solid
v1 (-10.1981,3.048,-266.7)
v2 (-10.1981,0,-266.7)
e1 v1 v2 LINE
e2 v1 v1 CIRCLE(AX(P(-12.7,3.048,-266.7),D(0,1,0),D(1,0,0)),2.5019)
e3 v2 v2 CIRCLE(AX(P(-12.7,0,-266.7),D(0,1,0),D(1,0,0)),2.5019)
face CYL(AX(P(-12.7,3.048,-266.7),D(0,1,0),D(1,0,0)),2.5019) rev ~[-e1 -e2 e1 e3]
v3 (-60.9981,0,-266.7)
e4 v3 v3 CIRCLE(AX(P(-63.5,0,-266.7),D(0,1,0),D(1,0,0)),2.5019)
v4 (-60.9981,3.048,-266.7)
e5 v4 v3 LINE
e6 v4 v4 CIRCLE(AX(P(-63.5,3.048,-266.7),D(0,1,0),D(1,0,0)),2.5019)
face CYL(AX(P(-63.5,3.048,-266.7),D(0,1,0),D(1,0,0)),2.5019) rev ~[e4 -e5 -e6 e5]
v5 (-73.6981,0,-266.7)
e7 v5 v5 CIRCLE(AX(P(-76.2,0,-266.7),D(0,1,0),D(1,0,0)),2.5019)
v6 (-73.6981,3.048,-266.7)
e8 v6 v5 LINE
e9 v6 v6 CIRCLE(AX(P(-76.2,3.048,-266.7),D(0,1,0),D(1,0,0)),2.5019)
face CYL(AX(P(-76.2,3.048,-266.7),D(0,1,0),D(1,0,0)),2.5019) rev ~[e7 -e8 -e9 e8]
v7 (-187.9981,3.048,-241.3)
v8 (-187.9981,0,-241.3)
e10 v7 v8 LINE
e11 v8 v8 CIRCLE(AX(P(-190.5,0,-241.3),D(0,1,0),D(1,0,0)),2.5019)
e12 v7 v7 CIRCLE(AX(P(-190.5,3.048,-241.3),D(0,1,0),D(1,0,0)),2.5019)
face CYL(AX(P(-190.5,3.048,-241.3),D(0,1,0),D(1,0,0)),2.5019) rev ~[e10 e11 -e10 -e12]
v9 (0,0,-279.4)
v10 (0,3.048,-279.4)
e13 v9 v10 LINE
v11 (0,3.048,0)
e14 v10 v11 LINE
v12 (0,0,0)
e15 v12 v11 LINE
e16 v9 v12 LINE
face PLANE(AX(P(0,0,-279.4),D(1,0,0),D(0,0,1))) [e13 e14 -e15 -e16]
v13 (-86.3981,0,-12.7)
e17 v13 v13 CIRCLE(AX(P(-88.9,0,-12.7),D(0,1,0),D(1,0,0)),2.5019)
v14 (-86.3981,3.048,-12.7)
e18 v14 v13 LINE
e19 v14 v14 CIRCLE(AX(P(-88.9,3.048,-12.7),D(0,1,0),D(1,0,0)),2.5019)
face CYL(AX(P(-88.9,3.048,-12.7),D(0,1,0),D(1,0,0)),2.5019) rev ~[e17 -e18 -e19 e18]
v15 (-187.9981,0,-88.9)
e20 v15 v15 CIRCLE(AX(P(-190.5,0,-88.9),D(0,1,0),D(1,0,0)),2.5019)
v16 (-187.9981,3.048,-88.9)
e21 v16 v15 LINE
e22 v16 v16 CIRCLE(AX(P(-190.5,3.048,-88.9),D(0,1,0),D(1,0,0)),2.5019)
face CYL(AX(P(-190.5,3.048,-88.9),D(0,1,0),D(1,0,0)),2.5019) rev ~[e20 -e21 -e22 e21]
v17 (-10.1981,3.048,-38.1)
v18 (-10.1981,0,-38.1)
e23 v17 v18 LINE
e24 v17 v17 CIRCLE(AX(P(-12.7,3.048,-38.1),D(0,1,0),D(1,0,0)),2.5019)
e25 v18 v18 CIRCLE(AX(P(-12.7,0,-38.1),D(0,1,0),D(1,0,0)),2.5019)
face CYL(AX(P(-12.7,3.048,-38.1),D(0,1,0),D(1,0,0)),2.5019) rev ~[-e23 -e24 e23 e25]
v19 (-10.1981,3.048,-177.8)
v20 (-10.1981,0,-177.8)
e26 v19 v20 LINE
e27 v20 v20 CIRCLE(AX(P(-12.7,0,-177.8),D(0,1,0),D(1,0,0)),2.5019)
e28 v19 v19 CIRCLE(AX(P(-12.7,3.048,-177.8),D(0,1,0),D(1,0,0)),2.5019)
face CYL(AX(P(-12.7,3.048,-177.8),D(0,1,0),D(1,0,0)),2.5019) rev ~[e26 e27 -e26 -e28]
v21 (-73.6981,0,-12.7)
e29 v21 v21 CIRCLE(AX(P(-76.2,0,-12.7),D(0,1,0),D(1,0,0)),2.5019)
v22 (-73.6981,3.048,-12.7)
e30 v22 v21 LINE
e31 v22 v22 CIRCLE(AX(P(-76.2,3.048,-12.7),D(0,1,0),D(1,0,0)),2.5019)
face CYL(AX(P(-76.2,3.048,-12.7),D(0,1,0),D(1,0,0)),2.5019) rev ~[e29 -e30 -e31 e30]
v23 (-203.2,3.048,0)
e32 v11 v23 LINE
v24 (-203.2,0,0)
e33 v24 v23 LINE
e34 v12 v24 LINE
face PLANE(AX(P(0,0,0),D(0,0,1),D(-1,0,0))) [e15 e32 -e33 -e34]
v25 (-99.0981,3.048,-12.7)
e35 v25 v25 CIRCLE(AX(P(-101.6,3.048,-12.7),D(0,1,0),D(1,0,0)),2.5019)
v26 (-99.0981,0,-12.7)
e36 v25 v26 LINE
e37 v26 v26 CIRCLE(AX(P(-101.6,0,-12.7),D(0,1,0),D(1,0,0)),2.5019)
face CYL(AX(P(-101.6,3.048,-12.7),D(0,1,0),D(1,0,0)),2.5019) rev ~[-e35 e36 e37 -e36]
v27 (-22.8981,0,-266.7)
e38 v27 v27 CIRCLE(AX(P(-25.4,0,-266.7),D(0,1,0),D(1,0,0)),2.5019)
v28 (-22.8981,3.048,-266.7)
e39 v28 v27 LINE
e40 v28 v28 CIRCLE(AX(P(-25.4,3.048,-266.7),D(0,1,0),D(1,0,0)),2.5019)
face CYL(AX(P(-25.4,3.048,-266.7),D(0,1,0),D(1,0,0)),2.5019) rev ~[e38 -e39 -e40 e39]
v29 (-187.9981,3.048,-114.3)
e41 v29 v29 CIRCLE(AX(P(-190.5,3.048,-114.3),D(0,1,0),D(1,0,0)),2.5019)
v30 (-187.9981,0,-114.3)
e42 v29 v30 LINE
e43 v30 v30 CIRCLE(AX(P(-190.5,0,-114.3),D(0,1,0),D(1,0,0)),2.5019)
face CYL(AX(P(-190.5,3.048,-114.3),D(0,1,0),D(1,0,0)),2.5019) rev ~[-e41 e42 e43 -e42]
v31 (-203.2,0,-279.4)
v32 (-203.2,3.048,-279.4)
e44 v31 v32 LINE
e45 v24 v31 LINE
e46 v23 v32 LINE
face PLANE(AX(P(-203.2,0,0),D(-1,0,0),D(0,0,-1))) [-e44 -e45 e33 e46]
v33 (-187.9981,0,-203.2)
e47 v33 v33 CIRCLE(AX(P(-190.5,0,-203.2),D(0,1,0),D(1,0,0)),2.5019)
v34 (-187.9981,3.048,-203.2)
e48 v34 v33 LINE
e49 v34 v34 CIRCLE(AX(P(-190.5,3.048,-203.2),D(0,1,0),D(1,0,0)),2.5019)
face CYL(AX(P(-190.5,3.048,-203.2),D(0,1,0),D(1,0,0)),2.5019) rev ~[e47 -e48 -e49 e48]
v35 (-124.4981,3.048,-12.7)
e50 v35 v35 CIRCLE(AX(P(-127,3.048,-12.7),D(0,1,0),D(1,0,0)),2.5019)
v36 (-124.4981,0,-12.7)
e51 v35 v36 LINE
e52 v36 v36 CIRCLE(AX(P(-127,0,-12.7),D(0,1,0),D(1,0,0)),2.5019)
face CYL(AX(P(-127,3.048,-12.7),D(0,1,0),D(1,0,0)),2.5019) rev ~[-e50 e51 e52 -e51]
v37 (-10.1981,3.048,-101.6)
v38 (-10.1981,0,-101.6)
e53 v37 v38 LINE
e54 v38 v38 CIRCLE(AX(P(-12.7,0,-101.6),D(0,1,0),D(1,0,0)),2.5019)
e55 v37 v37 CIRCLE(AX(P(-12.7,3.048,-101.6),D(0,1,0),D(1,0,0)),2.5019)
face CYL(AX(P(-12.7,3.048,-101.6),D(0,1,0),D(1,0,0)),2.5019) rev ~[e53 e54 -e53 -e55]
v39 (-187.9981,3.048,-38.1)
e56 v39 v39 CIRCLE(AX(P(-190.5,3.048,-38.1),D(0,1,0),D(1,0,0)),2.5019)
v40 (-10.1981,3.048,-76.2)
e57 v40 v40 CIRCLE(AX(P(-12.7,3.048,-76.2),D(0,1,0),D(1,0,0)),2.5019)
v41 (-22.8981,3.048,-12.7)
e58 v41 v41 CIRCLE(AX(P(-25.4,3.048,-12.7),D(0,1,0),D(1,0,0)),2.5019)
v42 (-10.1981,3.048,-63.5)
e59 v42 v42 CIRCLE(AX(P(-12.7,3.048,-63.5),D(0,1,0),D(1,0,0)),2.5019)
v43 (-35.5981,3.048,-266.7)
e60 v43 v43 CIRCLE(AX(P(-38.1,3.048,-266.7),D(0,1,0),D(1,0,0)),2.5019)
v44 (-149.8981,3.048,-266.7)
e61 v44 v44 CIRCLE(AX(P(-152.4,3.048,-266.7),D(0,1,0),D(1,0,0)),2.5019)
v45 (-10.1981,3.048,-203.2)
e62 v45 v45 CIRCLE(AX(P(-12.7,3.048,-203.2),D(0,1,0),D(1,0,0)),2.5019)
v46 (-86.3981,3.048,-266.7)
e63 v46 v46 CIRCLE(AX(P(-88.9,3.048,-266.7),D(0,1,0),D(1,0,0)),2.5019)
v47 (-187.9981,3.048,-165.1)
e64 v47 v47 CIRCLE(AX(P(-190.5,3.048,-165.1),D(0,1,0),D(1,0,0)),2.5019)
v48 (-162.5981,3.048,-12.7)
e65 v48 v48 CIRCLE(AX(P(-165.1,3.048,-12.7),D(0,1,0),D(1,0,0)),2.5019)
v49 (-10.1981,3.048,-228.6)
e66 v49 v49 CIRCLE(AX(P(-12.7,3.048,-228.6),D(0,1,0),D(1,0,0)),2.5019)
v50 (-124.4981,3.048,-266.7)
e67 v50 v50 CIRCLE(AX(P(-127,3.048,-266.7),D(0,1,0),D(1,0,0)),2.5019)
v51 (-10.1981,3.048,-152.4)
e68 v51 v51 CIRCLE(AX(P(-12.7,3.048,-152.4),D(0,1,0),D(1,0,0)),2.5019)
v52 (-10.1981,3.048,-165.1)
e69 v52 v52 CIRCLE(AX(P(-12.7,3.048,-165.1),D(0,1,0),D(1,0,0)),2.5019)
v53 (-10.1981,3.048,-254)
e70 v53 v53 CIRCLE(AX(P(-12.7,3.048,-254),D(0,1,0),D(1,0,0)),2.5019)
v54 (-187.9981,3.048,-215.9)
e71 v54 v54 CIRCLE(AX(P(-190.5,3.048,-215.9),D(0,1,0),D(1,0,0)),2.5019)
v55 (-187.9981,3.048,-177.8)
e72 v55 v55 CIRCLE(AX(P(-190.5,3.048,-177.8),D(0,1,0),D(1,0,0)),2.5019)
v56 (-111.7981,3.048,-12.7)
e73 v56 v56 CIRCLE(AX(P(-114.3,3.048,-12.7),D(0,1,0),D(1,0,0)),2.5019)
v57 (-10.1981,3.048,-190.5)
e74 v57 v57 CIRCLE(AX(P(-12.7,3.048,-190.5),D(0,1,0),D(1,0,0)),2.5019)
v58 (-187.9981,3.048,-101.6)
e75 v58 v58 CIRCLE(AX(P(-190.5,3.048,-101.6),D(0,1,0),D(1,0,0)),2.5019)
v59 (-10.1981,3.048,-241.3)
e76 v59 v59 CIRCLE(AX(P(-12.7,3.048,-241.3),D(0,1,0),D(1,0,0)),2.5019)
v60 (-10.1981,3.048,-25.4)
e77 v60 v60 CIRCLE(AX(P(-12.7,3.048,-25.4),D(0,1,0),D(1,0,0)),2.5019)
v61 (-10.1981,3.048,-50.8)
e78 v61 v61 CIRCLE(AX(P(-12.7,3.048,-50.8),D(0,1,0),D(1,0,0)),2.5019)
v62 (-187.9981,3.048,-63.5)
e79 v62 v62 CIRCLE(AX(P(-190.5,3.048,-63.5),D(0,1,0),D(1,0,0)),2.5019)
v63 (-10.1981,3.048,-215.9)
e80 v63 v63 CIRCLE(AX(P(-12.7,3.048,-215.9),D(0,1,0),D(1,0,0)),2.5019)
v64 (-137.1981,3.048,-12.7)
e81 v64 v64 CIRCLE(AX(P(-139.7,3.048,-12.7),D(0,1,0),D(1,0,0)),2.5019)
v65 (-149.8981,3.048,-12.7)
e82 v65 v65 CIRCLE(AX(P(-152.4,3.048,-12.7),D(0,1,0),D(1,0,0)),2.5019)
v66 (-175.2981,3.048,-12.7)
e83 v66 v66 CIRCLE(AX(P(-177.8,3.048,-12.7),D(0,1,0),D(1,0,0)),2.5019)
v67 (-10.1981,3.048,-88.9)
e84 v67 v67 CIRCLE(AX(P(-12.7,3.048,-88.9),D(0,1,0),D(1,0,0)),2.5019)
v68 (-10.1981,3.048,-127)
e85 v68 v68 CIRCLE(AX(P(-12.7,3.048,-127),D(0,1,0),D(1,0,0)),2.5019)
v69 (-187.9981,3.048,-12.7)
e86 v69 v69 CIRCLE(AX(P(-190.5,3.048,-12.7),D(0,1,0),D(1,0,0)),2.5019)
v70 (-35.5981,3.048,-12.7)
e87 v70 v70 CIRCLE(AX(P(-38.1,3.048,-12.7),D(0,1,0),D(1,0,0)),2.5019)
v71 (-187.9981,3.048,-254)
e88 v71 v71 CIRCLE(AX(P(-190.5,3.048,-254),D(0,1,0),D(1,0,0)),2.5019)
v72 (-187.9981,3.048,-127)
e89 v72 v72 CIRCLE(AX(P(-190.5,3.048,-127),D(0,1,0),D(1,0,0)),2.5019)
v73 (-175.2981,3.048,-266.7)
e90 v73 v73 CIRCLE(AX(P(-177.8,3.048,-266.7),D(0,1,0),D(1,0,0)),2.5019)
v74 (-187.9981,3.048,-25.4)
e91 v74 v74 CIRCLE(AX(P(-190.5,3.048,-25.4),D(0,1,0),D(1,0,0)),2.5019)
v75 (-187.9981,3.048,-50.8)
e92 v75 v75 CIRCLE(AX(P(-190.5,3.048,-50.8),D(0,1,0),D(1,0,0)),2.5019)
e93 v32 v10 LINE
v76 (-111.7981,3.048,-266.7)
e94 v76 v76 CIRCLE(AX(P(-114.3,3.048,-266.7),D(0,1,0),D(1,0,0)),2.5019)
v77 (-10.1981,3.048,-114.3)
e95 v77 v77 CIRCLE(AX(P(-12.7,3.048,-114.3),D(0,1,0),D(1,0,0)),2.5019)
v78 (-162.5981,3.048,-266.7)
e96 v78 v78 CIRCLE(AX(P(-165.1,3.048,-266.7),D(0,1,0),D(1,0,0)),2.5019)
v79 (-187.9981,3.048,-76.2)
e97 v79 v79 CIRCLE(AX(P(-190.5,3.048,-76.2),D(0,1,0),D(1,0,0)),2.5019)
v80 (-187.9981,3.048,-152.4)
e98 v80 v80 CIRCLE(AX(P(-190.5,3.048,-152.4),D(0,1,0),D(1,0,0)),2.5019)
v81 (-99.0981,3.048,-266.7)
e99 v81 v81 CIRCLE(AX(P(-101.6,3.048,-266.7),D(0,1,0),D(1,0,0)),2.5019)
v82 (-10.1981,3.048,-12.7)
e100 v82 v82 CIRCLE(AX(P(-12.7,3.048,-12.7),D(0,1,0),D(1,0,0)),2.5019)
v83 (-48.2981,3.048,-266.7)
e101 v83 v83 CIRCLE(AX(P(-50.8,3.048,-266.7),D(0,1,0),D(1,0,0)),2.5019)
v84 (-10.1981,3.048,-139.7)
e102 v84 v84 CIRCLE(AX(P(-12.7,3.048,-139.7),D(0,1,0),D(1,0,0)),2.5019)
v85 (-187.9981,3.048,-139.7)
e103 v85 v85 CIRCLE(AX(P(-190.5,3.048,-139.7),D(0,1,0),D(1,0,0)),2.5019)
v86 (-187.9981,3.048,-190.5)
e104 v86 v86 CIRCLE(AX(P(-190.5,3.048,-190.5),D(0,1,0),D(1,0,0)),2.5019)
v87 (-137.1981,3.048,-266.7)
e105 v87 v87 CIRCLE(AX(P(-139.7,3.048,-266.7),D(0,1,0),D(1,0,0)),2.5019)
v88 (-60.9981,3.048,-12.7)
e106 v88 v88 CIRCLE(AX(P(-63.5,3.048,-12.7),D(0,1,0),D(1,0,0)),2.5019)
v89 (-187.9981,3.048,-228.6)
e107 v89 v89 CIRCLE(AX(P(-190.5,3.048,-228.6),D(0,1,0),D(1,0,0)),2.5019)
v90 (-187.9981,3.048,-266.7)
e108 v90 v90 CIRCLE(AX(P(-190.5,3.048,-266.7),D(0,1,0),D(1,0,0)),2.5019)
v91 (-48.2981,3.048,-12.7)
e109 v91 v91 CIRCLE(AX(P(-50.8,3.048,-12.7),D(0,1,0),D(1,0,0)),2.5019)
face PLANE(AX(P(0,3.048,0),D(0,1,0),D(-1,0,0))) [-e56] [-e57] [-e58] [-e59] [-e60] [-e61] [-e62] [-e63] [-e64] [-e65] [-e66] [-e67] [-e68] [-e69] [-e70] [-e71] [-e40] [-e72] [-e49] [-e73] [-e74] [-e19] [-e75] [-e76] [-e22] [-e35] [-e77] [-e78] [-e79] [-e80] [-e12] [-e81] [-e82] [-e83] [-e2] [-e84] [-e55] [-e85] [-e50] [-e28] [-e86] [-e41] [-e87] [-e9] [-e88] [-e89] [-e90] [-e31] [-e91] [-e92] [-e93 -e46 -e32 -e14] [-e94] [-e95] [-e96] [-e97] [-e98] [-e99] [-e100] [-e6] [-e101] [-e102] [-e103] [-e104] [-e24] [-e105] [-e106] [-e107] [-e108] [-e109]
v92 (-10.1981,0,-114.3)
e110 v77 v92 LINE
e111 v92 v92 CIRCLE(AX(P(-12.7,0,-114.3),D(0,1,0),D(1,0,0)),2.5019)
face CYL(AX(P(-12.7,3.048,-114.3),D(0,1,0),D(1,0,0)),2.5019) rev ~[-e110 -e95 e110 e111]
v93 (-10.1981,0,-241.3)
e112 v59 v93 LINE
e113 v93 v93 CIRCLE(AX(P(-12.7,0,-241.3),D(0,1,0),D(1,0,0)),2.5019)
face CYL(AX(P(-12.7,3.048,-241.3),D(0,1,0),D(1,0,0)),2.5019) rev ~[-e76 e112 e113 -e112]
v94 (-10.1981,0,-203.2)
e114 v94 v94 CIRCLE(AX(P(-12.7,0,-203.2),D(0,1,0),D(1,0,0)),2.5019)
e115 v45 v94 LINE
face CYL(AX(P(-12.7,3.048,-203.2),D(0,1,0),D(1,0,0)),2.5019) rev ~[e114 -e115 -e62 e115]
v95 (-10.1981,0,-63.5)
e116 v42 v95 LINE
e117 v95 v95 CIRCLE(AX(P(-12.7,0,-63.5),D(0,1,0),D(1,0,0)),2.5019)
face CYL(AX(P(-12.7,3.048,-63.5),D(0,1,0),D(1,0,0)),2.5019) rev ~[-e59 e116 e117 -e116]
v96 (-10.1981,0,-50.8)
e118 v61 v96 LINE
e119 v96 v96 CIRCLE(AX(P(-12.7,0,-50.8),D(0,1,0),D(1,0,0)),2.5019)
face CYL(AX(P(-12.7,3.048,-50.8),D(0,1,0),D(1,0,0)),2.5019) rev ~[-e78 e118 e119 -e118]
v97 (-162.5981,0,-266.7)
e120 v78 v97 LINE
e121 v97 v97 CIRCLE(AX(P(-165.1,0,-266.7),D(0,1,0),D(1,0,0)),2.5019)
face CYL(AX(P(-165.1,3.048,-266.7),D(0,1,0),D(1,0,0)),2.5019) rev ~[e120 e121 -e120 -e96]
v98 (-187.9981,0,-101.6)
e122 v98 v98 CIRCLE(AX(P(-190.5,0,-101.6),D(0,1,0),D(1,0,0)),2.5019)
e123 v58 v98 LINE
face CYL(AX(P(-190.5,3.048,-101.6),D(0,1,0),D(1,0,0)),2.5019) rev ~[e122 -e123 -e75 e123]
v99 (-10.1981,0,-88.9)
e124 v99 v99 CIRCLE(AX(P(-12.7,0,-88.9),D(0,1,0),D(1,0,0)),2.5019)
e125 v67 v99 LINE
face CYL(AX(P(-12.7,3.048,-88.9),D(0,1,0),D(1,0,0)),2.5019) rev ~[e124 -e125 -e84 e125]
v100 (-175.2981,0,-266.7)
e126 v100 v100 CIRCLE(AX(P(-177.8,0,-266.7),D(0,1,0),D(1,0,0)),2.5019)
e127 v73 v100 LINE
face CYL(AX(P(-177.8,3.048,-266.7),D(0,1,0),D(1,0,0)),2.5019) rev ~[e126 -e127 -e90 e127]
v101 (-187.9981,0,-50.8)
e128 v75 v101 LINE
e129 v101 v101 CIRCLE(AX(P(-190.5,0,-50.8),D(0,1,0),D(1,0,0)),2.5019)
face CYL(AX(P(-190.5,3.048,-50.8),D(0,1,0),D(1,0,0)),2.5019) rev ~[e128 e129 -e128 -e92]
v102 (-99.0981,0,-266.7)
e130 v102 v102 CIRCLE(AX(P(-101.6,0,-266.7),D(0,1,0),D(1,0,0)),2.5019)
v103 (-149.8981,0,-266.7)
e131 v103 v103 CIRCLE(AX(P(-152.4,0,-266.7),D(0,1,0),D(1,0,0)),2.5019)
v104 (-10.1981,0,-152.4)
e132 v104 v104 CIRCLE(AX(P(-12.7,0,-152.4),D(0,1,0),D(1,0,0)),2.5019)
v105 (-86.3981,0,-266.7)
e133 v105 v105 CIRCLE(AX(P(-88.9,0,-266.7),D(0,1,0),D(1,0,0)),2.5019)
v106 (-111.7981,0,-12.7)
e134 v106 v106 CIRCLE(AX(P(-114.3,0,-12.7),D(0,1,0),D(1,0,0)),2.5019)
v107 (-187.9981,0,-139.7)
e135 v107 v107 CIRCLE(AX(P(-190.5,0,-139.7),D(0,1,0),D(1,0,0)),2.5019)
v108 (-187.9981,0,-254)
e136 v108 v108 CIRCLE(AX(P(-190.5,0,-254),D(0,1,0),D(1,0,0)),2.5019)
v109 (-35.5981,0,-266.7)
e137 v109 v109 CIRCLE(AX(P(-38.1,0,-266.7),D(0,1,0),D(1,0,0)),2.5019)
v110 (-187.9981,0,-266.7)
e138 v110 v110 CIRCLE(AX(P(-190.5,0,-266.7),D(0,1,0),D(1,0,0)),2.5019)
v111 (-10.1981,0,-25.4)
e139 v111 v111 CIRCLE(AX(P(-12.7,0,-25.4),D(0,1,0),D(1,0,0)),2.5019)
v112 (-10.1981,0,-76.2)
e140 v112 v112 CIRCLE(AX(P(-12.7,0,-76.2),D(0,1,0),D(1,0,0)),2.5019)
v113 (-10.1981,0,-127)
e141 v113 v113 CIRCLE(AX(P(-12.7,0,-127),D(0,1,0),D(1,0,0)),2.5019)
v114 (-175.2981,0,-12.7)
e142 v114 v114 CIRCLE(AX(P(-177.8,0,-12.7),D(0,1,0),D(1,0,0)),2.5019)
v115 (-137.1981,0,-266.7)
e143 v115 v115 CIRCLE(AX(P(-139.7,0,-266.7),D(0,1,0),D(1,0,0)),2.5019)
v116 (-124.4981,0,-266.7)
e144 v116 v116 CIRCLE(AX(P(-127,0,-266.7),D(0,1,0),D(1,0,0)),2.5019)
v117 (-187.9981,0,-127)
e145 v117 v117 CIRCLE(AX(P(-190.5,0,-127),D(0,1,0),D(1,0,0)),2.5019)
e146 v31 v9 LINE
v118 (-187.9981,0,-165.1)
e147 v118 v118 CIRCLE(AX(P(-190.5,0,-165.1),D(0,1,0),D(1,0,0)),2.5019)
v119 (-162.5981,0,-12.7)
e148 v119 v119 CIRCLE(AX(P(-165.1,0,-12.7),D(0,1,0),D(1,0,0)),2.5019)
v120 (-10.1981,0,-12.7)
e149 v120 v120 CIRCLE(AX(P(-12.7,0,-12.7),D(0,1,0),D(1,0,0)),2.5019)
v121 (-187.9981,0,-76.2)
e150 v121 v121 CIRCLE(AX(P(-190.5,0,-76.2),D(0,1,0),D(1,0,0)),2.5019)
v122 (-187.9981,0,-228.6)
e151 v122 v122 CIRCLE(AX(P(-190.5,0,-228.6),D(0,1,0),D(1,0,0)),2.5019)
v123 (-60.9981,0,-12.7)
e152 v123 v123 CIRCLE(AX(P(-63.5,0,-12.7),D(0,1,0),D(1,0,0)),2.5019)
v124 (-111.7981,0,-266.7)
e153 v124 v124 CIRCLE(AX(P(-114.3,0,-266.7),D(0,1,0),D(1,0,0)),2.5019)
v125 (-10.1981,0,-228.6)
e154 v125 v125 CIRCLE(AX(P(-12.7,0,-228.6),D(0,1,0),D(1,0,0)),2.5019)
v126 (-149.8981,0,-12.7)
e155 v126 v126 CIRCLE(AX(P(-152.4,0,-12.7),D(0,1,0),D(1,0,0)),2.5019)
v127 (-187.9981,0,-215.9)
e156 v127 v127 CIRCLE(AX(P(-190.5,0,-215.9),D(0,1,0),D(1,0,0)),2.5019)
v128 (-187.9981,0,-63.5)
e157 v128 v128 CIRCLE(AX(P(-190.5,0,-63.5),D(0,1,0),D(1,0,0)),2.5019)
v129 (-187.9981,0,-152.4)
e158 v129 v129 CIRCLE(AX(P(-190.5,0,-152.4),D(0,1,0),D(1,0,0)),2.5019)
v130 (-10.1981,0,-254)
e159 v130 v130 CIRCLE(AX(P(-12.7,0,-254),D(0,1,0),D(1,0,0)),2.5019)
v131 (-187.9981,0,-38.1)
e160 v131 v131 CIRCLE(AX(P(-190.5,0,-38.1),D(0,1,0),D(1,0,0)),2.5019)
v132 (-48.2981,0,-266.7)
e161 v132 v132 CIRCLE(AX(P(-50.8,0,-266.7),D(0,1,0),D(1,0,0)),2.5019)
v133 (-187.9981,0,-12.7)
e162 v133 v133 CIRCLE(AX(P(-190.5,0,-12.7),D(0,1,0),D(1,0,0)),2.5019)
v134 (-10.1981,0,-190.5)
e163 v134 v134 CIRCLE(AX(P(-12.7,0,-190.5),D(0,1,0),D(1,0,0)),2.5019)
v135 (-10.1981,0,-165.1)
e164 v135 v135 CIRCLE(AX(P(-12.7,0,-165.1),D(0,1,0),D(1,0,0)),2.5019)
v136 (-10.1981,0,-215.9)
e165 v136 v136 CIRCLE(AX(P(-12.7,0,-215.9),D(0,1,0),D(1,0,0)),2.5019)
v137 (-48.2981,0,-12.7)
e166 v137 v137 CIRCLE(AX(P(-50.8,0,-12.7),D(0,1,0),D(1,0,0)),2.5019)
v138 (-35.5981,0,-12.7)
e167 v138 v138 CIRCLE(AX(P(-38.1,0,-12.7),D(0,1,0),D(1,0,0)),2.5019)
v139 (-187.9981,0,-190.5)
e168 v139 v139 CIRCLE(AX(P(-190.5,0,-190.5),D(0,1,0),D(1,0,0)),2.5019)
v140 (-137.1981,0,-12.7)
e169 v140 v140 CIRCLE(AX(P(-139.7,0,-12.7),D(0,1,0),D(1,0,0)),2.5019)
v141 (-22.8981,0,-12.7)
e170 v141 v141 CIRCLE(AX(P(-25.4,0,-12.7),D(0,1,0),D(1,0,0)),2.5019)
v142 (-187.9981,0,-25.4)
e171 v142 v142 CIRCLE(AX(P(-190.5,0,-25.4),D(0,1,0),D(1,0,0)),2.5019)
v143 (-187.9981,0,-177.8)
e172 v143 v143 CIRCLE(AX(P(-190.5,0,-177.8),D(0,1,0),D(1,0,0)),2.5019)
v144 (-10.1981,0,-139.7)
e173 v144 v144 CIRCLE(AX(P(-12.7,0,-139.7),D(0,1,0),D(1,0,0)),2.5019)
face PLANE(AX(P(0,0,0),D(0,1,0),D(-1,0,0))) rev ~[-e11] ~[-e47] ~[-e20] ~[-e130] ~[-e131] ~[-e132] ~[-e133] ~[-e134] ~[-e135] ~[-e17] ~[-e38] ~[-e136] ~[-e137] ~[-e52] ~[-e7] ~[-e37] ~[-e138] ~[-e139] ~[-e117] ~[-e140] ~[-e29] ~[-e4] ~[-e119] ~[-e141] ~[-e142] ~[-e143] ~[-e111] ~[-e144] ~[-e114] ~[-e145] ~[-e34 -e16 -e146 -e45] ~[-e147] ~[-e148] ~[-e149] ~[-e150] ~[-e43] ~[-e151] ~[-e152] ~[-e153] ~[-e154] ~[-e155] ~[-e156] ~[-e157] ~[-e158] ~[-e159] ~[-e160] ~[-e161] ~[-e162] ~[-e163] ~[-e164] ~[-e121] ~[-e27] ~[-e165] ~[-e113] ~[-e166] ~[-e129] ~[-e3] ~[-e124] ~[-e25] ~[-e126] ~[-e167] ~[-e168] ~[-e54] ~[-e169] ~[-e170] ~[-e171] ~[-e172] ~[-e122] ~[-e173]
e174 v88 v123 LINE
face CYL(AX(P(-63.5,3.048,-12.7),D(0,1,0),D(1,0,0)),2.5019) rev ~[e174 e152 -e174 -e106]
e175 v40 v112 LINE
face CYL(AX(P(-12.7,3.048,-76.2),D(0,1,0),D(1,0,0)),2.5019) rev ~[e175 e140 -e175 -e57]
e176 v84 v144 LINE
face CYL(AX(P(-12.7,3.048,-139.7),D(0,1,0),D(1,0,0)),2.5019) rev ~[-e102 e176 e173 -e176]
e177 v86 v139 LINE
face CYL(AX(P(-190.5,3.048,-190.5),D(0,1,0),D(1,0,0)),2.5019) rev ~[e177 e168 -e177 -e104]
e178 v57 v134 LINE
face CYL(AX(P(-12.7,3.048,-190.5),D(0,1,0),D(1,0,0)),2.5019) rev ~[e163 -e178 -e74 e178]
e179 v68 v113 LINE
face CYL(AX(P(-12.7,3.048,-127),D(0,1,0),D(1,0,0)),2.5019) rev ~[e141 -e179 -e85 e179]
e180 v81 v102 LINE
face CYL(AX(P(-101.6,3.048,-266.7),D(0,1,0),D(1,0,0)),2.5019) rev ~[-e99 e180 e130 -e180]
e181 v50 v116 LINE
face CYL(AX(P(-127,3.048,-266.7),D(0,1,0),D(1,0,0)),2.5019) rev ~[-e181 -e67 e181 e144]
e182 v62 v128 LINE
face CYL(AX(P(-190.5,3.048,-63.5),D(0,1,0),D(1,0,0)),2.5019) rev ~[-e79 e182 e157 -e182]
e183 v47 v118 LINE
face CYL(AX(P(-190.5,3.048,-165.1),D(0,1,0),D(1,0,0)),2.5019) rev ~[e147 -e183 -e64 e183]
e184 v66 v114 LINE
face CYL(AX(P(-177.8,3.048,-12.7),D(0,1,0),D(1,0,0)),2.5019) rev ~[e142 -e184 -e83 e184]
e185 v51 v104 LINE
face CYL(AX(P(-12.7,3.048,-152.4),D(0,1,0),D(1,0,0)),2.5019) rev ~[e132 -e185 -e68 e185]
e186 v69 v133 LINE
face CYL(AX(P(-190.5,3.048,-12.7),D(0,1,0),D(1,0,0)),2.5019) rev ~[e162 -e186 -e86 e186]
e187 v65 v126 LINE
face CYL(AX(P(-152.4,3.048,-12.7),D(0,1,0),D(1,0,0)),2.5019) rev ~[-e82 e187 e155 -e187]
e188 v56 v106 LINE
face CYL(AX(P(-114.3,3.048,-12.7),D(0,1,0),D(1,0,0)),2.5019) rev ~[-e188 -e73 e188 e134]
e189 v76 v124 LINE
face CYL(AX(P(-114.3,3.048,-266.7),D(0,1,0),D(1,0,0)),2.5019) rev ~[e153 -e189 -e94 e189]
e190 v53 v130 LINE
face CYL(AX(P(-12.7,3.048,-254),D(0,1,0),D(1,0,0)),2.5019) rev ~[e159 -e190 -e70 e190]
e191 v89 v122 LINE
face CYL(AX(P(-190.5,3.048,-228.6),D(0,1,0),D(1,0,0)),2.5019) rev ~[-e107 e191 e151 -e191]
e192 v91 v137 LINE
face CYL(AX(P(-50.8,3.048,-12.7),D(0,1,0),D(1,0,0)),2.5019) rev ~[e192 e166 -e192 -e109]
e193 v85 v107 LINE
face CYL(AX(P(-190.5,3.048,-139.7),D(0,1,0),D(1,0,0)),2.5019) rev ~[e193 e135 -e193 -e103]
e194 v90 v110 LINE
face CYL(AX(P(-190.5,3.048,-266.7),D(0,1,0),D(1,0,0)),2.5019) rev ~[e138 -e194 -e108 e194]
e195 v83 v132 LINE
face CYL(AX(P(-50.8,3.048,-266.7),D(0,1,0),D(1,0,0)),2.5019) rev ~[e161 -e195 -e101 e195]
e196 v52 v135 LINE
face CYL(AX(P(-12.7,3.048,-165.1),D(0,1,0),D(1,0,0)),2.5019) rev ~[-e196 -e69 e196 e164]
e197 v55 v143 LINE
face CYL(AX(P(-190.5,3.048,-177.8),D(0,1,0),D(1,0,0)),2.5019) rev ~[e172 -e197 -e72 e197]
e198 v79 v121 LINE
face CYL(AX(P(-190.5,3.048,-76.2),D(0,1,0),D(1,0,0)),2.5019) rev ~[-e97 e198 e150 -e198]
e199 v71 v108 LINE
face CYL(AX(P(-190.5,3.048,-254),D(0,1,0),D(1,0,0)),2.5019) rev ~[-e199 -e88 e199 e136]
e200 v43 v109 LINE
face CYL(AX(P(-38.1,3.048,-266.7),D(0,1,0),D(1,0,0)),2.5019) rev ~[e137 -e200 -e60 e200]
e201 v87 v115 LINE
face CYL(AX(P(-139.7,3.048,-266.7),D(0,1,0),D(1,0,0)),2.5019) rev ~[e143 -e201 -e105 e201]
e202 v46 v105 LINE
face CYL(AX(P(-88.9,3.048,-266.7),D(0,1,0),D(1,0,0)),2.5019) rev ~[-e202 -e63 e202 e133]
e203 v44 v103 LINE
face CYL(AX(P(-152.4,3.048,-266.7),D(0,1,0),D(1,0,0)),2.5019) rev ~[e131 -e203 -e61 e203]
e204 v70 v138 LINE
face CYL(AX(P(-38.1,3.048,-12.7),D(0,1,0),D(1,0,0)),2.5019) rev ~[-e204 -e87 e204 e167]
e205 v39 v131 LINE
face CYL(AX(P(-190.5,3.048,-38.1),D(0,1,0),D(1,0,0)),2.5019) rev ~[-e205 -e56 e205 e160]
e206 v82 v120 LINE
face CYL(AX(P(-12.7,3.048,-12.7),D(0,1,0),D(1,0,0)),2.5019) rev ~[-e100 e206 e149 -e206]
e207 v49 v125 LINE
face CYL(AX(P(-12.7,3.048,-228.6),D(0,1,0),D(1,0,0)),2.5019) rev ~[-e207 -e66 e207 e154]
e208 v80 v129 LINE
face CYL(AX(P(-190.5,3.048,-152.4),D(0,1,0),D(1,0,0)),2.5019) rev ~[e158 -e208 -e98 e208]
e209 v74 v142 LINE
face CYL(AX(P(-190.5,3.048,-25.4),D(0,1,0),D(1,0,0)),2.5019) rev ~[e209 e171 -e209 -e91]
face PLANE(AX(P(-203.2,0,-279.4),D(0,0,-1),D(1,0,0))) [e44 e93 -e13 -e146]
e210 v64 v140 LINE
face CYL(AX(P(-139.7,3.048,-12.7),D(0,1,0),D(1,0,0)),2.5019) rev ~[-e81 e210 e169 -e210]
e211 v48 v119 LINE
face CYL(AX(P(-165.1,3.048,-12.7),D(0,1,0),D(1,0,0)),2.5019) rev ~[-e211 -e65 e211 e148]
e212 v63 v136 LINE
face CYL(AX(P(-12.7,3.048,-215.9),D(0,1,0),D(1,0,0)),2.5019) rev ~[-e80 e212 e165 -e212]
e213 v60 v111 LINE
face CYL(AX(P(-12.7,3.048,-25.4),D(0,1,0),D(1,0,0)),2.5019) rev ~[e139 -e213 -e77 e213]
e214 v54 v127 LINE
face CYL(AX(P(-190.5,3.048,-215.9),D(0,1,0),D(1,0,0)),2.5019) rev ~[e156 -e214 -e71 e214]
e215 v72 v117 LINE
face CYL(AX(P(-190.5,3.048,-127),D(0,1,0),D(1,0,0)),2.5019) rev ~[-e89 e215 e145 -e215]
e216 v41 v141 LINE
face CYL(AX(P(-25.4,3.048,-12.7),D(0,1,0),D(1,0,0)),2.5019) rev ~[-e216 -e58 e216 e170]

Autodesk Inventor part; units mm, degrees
ref_plane "YZ Plane" through (0, 0, 0) normal (1, 0, 0) x (0, 1, 0)
ref_plane "XZ Plane" through (0, 0, 0) normal (0, 1, 0) x (-1, 0, 0)
ref_plane "XY Plane" through (0, 0, 0) normal (0, 0, 1) x (1, 0, 0)
sketch "Sketch1" plane through (0, 0, 0) normal (0, 1, 0) x (-1, 0, 0)
  line L0 (0, 0) -> (203.2, 0)
  line L1 (203.2, 0) -> (203.2, -279.4)
  line L2 (203.2, -279.4) -> (0, -279.4)
  line L3 (0, -279.4) -> (0, 0)
  dimension "d0" = 203.2
  dimension "d1" = 279.4
extrude "Plate1" add sketch "Sketch1" along normal blind 3.048
sketch "Sketch2" plane through (0, 3.048, 0) normal (0, 1, 0) x (1, 0, 0)
  circle A0 centre (-12.7, 12.7) radius 2.5019
  line L0 (0, 0) -> (-203.2, 0) projected
  line L1 (0, 279.4) -> (0, 0) projected
  circle A1 centre (-25.4, 12.7) radius 2.5019
  circle A2 centre (-38.1, 12.7) radius 2.5019
  circle A3 centre (-50.8, 12.7) radius 2.5019
  circle A4 centre (-63.5, 12.7) radius 2.5019
  circle A5 centre (-76.2, 12.7) radius 2.5019
  circle A6 centre (-88.9, 12.7) radius 2.5019
  circle A7 centre (-101.6, 12.7) radius 2.5019
  circle A8 centre (-114.3, 12.7) radius 2.5019
  circle A9 centre (-127, 12.7) radius 2.5019
  circle A10 centre (-139.7, 12.7) radius 2.5019
  circle A11 centre (-152.4, 12.7) radius 2.5019
  circle A12 centre (-165.1, 12.7) radius 2.5019
  circle A13 centre (-177.8, 12.7) radius 2.5019
  circle A14 centre (-190.5, 12.7) radius 2.5019
  line L2 (-203.2, 0) -> (-203.2, 279.4) projected
  circle A15 centre (-190.5, 25.4) radius 2.5019
  circle A16 centre (-190.5, 38.1) radius 2.5019
  circle A17 centre (-190.5, 50.8) radius 2.5019
  circle A18 centre (-190.5, 63.5) radius 2.5019
  circle A19 centre (-190.5, 76.2) radius 2.5019
  circle A20 centre (-190.5, 88.9) radius 2.5019
  circle A21 centre (-190.5, 101.6) radius 2.5019
  circle A22 centre (-190.5, 114.3) radius 2.5019
  circle A23 centre (-190.5, 127) radius 2.5019
  circle A24 centre (-190.5, 139.7) radius 2.5019
  circle A25 centre (-190.5, 152.4) radius 2.5019
  circle A26 centre (-190.5, 165.1) radius 2.5019
  circle A27 centre (-190.5, 177.8) radius 2.5019
  circle A28 centre (-190.5, 190.5) radius 2.5019
  circle A29 centre (-190.5, 203.2) radius 2.5019
  circle A30 centre (-190.5, 215.9) radius 2.5019
  circle A31 centre (-190.5, 228.6) radius 2.5019
  circle A32 centre (-190.5, 241.3) radius 2.5019
  circle A33 centre (-190.5, 254) radius 2.5019
  circle A34 centre (-190.5, 266.7) radius 2.5019
  line L3 (-203.2, 279.4) -> (0, 279.4) projected
  circle A35 centre (-177.8, 266.7) radius 2.5019
  circle A36 centre (-165.1, 266.7) radius 2.5019
  circle A37 centre (-152.4, 266.7) radius 2.5019
  circle A38 centre (-139.7, 266.7) radius 2.5019
  circle A39 centre (-127, 266.7) radius 2.5019
  circle A40 centre (-114.3, 266.7) radius 2.5019
  circle A41 centre (-101.6, 266.7) radius 2.5019
  circle A42 centre (-88.9, 266.7) radius 2.5019
  circle A43 centre (-76.2, 266.7) radius 2.5019
  circle A44 centre (-63.5, 266.7) radius 2.5019
  circle A45 centre (-50.8, 266.7) radius 2.5019
  circle A46 centre (-38.1, 266.7) radius 2.5019
  circle A47 centre (-25.4, 266.7) radius 2.5019
  circle A48 centre (-12.7, 266.7) radius 2.5019
  circle A49 centre (-12.7, 254) radius 2.5019
  circle A50 centre (-12.7, 241.3) radius 2.5019
  circle A51 centre (-12.7, 228.6) radius 2.5019
  circle A52 centre (-12.7, 215.9) radius 2.5019
  circle A53 centre (-12.7, 203.2) radius 2.5019
  circle A54 centre (-12.7, 190.5) radius 2.5019
  circle A55 centre (-12.7, 177.8) radius 2.5019
  circle A56 centre (-12.7, 165.1) radius 2.5019
  circle A57 centre (-12.7, 152.4) radius 2.5019
  circle A58 centre (-12.7, 139.7) radius 2.5019
  circle A59 centre (-12.7, 127) radius 2.5019
  circle A60 centre (-12.7, 114.3) radius 2.5019
  circle A61 centre (-12.7, 101.6) radius 2.5019
  circle A62 centre (-12.7, 88.9) radius 2.5019
  circle A63 centre (-12.7, 76.2) radius 2.5019
  circle A64 centre (-12.7, 63.5) radius 2.5019
  circle A65 centre (-12.7, 50.8) radius 2.5019
  circle A66 centre (-12.7, 38.1) radius 2.5019
  circle A67 centre (-12.7, 25.4) radius 2.5019
  dimension "d3" = 5.0038
  dimension "d4" = 12.7
  dimension "d5" = 12.7
  dimension "d8" = 12.7
  dimension "d13" = 5.0038
  dimension "d15" = 12.7
  dimension "d16" = 12.7
  dimension "d19" = 12.7
  dimension "d24" = 5.0038
  dimension "d25" = 12.7
  dimension "d26" = 12.7
  dimension "d29" = 12.7
  dimension "d34" = 5.0038
  dimension "d35" = 12.7
  dimension "d36" = 12.7
  dimension "d39" = 12.7
extrude "Extrusion1" cut sketch "Sketch2" against normal blind 25.4 contours A0 | A1 | A2 | A3 | A4 | A5 | A6 | A7 | A8 | A9 | A10 | A11 | A12 | A13 | A14 | A15 | A16 | A17 | A18 | A19 | A20 | A21 | A22 | A23 | A24 | A25 | A26 | A27 | A28 | A29 | A30 | A31 | A32 | A33 | A34 | A35 | A36 | A37 | A38 | A39 | A40 | A41 | A42 | A43 | A44 | A45 | A46 | A47 | A48 | A49 | A50 | A51 | A52 | A53 | A54 | A55 | A56 | A57 | A58 | A59 | A60 | A61 | A62 | A63 | A64 | A65 | A66 | A67
equation "\"d2\" = Thickness"
equation "\"BendRadius\" = Thickness"
equation "\"BendReliefWidth\" = Thickness"
equation "\"BendReliefDepth\" = 0.5 * Thickness"
equation "\"CornerReliefSize\" = 4 * Thickness"
equation "\"MinimumRemnant\" = 2 * Thickness"
equation "\"TransitionRadius\" = BendRadius"
equation "\"JacobiRadiusSize\" = BendRadius"
equation "\"GapSize\" = Thickness"
equation "\"Thickness\" = 3.048"
properties part number "Bottom Plate"
